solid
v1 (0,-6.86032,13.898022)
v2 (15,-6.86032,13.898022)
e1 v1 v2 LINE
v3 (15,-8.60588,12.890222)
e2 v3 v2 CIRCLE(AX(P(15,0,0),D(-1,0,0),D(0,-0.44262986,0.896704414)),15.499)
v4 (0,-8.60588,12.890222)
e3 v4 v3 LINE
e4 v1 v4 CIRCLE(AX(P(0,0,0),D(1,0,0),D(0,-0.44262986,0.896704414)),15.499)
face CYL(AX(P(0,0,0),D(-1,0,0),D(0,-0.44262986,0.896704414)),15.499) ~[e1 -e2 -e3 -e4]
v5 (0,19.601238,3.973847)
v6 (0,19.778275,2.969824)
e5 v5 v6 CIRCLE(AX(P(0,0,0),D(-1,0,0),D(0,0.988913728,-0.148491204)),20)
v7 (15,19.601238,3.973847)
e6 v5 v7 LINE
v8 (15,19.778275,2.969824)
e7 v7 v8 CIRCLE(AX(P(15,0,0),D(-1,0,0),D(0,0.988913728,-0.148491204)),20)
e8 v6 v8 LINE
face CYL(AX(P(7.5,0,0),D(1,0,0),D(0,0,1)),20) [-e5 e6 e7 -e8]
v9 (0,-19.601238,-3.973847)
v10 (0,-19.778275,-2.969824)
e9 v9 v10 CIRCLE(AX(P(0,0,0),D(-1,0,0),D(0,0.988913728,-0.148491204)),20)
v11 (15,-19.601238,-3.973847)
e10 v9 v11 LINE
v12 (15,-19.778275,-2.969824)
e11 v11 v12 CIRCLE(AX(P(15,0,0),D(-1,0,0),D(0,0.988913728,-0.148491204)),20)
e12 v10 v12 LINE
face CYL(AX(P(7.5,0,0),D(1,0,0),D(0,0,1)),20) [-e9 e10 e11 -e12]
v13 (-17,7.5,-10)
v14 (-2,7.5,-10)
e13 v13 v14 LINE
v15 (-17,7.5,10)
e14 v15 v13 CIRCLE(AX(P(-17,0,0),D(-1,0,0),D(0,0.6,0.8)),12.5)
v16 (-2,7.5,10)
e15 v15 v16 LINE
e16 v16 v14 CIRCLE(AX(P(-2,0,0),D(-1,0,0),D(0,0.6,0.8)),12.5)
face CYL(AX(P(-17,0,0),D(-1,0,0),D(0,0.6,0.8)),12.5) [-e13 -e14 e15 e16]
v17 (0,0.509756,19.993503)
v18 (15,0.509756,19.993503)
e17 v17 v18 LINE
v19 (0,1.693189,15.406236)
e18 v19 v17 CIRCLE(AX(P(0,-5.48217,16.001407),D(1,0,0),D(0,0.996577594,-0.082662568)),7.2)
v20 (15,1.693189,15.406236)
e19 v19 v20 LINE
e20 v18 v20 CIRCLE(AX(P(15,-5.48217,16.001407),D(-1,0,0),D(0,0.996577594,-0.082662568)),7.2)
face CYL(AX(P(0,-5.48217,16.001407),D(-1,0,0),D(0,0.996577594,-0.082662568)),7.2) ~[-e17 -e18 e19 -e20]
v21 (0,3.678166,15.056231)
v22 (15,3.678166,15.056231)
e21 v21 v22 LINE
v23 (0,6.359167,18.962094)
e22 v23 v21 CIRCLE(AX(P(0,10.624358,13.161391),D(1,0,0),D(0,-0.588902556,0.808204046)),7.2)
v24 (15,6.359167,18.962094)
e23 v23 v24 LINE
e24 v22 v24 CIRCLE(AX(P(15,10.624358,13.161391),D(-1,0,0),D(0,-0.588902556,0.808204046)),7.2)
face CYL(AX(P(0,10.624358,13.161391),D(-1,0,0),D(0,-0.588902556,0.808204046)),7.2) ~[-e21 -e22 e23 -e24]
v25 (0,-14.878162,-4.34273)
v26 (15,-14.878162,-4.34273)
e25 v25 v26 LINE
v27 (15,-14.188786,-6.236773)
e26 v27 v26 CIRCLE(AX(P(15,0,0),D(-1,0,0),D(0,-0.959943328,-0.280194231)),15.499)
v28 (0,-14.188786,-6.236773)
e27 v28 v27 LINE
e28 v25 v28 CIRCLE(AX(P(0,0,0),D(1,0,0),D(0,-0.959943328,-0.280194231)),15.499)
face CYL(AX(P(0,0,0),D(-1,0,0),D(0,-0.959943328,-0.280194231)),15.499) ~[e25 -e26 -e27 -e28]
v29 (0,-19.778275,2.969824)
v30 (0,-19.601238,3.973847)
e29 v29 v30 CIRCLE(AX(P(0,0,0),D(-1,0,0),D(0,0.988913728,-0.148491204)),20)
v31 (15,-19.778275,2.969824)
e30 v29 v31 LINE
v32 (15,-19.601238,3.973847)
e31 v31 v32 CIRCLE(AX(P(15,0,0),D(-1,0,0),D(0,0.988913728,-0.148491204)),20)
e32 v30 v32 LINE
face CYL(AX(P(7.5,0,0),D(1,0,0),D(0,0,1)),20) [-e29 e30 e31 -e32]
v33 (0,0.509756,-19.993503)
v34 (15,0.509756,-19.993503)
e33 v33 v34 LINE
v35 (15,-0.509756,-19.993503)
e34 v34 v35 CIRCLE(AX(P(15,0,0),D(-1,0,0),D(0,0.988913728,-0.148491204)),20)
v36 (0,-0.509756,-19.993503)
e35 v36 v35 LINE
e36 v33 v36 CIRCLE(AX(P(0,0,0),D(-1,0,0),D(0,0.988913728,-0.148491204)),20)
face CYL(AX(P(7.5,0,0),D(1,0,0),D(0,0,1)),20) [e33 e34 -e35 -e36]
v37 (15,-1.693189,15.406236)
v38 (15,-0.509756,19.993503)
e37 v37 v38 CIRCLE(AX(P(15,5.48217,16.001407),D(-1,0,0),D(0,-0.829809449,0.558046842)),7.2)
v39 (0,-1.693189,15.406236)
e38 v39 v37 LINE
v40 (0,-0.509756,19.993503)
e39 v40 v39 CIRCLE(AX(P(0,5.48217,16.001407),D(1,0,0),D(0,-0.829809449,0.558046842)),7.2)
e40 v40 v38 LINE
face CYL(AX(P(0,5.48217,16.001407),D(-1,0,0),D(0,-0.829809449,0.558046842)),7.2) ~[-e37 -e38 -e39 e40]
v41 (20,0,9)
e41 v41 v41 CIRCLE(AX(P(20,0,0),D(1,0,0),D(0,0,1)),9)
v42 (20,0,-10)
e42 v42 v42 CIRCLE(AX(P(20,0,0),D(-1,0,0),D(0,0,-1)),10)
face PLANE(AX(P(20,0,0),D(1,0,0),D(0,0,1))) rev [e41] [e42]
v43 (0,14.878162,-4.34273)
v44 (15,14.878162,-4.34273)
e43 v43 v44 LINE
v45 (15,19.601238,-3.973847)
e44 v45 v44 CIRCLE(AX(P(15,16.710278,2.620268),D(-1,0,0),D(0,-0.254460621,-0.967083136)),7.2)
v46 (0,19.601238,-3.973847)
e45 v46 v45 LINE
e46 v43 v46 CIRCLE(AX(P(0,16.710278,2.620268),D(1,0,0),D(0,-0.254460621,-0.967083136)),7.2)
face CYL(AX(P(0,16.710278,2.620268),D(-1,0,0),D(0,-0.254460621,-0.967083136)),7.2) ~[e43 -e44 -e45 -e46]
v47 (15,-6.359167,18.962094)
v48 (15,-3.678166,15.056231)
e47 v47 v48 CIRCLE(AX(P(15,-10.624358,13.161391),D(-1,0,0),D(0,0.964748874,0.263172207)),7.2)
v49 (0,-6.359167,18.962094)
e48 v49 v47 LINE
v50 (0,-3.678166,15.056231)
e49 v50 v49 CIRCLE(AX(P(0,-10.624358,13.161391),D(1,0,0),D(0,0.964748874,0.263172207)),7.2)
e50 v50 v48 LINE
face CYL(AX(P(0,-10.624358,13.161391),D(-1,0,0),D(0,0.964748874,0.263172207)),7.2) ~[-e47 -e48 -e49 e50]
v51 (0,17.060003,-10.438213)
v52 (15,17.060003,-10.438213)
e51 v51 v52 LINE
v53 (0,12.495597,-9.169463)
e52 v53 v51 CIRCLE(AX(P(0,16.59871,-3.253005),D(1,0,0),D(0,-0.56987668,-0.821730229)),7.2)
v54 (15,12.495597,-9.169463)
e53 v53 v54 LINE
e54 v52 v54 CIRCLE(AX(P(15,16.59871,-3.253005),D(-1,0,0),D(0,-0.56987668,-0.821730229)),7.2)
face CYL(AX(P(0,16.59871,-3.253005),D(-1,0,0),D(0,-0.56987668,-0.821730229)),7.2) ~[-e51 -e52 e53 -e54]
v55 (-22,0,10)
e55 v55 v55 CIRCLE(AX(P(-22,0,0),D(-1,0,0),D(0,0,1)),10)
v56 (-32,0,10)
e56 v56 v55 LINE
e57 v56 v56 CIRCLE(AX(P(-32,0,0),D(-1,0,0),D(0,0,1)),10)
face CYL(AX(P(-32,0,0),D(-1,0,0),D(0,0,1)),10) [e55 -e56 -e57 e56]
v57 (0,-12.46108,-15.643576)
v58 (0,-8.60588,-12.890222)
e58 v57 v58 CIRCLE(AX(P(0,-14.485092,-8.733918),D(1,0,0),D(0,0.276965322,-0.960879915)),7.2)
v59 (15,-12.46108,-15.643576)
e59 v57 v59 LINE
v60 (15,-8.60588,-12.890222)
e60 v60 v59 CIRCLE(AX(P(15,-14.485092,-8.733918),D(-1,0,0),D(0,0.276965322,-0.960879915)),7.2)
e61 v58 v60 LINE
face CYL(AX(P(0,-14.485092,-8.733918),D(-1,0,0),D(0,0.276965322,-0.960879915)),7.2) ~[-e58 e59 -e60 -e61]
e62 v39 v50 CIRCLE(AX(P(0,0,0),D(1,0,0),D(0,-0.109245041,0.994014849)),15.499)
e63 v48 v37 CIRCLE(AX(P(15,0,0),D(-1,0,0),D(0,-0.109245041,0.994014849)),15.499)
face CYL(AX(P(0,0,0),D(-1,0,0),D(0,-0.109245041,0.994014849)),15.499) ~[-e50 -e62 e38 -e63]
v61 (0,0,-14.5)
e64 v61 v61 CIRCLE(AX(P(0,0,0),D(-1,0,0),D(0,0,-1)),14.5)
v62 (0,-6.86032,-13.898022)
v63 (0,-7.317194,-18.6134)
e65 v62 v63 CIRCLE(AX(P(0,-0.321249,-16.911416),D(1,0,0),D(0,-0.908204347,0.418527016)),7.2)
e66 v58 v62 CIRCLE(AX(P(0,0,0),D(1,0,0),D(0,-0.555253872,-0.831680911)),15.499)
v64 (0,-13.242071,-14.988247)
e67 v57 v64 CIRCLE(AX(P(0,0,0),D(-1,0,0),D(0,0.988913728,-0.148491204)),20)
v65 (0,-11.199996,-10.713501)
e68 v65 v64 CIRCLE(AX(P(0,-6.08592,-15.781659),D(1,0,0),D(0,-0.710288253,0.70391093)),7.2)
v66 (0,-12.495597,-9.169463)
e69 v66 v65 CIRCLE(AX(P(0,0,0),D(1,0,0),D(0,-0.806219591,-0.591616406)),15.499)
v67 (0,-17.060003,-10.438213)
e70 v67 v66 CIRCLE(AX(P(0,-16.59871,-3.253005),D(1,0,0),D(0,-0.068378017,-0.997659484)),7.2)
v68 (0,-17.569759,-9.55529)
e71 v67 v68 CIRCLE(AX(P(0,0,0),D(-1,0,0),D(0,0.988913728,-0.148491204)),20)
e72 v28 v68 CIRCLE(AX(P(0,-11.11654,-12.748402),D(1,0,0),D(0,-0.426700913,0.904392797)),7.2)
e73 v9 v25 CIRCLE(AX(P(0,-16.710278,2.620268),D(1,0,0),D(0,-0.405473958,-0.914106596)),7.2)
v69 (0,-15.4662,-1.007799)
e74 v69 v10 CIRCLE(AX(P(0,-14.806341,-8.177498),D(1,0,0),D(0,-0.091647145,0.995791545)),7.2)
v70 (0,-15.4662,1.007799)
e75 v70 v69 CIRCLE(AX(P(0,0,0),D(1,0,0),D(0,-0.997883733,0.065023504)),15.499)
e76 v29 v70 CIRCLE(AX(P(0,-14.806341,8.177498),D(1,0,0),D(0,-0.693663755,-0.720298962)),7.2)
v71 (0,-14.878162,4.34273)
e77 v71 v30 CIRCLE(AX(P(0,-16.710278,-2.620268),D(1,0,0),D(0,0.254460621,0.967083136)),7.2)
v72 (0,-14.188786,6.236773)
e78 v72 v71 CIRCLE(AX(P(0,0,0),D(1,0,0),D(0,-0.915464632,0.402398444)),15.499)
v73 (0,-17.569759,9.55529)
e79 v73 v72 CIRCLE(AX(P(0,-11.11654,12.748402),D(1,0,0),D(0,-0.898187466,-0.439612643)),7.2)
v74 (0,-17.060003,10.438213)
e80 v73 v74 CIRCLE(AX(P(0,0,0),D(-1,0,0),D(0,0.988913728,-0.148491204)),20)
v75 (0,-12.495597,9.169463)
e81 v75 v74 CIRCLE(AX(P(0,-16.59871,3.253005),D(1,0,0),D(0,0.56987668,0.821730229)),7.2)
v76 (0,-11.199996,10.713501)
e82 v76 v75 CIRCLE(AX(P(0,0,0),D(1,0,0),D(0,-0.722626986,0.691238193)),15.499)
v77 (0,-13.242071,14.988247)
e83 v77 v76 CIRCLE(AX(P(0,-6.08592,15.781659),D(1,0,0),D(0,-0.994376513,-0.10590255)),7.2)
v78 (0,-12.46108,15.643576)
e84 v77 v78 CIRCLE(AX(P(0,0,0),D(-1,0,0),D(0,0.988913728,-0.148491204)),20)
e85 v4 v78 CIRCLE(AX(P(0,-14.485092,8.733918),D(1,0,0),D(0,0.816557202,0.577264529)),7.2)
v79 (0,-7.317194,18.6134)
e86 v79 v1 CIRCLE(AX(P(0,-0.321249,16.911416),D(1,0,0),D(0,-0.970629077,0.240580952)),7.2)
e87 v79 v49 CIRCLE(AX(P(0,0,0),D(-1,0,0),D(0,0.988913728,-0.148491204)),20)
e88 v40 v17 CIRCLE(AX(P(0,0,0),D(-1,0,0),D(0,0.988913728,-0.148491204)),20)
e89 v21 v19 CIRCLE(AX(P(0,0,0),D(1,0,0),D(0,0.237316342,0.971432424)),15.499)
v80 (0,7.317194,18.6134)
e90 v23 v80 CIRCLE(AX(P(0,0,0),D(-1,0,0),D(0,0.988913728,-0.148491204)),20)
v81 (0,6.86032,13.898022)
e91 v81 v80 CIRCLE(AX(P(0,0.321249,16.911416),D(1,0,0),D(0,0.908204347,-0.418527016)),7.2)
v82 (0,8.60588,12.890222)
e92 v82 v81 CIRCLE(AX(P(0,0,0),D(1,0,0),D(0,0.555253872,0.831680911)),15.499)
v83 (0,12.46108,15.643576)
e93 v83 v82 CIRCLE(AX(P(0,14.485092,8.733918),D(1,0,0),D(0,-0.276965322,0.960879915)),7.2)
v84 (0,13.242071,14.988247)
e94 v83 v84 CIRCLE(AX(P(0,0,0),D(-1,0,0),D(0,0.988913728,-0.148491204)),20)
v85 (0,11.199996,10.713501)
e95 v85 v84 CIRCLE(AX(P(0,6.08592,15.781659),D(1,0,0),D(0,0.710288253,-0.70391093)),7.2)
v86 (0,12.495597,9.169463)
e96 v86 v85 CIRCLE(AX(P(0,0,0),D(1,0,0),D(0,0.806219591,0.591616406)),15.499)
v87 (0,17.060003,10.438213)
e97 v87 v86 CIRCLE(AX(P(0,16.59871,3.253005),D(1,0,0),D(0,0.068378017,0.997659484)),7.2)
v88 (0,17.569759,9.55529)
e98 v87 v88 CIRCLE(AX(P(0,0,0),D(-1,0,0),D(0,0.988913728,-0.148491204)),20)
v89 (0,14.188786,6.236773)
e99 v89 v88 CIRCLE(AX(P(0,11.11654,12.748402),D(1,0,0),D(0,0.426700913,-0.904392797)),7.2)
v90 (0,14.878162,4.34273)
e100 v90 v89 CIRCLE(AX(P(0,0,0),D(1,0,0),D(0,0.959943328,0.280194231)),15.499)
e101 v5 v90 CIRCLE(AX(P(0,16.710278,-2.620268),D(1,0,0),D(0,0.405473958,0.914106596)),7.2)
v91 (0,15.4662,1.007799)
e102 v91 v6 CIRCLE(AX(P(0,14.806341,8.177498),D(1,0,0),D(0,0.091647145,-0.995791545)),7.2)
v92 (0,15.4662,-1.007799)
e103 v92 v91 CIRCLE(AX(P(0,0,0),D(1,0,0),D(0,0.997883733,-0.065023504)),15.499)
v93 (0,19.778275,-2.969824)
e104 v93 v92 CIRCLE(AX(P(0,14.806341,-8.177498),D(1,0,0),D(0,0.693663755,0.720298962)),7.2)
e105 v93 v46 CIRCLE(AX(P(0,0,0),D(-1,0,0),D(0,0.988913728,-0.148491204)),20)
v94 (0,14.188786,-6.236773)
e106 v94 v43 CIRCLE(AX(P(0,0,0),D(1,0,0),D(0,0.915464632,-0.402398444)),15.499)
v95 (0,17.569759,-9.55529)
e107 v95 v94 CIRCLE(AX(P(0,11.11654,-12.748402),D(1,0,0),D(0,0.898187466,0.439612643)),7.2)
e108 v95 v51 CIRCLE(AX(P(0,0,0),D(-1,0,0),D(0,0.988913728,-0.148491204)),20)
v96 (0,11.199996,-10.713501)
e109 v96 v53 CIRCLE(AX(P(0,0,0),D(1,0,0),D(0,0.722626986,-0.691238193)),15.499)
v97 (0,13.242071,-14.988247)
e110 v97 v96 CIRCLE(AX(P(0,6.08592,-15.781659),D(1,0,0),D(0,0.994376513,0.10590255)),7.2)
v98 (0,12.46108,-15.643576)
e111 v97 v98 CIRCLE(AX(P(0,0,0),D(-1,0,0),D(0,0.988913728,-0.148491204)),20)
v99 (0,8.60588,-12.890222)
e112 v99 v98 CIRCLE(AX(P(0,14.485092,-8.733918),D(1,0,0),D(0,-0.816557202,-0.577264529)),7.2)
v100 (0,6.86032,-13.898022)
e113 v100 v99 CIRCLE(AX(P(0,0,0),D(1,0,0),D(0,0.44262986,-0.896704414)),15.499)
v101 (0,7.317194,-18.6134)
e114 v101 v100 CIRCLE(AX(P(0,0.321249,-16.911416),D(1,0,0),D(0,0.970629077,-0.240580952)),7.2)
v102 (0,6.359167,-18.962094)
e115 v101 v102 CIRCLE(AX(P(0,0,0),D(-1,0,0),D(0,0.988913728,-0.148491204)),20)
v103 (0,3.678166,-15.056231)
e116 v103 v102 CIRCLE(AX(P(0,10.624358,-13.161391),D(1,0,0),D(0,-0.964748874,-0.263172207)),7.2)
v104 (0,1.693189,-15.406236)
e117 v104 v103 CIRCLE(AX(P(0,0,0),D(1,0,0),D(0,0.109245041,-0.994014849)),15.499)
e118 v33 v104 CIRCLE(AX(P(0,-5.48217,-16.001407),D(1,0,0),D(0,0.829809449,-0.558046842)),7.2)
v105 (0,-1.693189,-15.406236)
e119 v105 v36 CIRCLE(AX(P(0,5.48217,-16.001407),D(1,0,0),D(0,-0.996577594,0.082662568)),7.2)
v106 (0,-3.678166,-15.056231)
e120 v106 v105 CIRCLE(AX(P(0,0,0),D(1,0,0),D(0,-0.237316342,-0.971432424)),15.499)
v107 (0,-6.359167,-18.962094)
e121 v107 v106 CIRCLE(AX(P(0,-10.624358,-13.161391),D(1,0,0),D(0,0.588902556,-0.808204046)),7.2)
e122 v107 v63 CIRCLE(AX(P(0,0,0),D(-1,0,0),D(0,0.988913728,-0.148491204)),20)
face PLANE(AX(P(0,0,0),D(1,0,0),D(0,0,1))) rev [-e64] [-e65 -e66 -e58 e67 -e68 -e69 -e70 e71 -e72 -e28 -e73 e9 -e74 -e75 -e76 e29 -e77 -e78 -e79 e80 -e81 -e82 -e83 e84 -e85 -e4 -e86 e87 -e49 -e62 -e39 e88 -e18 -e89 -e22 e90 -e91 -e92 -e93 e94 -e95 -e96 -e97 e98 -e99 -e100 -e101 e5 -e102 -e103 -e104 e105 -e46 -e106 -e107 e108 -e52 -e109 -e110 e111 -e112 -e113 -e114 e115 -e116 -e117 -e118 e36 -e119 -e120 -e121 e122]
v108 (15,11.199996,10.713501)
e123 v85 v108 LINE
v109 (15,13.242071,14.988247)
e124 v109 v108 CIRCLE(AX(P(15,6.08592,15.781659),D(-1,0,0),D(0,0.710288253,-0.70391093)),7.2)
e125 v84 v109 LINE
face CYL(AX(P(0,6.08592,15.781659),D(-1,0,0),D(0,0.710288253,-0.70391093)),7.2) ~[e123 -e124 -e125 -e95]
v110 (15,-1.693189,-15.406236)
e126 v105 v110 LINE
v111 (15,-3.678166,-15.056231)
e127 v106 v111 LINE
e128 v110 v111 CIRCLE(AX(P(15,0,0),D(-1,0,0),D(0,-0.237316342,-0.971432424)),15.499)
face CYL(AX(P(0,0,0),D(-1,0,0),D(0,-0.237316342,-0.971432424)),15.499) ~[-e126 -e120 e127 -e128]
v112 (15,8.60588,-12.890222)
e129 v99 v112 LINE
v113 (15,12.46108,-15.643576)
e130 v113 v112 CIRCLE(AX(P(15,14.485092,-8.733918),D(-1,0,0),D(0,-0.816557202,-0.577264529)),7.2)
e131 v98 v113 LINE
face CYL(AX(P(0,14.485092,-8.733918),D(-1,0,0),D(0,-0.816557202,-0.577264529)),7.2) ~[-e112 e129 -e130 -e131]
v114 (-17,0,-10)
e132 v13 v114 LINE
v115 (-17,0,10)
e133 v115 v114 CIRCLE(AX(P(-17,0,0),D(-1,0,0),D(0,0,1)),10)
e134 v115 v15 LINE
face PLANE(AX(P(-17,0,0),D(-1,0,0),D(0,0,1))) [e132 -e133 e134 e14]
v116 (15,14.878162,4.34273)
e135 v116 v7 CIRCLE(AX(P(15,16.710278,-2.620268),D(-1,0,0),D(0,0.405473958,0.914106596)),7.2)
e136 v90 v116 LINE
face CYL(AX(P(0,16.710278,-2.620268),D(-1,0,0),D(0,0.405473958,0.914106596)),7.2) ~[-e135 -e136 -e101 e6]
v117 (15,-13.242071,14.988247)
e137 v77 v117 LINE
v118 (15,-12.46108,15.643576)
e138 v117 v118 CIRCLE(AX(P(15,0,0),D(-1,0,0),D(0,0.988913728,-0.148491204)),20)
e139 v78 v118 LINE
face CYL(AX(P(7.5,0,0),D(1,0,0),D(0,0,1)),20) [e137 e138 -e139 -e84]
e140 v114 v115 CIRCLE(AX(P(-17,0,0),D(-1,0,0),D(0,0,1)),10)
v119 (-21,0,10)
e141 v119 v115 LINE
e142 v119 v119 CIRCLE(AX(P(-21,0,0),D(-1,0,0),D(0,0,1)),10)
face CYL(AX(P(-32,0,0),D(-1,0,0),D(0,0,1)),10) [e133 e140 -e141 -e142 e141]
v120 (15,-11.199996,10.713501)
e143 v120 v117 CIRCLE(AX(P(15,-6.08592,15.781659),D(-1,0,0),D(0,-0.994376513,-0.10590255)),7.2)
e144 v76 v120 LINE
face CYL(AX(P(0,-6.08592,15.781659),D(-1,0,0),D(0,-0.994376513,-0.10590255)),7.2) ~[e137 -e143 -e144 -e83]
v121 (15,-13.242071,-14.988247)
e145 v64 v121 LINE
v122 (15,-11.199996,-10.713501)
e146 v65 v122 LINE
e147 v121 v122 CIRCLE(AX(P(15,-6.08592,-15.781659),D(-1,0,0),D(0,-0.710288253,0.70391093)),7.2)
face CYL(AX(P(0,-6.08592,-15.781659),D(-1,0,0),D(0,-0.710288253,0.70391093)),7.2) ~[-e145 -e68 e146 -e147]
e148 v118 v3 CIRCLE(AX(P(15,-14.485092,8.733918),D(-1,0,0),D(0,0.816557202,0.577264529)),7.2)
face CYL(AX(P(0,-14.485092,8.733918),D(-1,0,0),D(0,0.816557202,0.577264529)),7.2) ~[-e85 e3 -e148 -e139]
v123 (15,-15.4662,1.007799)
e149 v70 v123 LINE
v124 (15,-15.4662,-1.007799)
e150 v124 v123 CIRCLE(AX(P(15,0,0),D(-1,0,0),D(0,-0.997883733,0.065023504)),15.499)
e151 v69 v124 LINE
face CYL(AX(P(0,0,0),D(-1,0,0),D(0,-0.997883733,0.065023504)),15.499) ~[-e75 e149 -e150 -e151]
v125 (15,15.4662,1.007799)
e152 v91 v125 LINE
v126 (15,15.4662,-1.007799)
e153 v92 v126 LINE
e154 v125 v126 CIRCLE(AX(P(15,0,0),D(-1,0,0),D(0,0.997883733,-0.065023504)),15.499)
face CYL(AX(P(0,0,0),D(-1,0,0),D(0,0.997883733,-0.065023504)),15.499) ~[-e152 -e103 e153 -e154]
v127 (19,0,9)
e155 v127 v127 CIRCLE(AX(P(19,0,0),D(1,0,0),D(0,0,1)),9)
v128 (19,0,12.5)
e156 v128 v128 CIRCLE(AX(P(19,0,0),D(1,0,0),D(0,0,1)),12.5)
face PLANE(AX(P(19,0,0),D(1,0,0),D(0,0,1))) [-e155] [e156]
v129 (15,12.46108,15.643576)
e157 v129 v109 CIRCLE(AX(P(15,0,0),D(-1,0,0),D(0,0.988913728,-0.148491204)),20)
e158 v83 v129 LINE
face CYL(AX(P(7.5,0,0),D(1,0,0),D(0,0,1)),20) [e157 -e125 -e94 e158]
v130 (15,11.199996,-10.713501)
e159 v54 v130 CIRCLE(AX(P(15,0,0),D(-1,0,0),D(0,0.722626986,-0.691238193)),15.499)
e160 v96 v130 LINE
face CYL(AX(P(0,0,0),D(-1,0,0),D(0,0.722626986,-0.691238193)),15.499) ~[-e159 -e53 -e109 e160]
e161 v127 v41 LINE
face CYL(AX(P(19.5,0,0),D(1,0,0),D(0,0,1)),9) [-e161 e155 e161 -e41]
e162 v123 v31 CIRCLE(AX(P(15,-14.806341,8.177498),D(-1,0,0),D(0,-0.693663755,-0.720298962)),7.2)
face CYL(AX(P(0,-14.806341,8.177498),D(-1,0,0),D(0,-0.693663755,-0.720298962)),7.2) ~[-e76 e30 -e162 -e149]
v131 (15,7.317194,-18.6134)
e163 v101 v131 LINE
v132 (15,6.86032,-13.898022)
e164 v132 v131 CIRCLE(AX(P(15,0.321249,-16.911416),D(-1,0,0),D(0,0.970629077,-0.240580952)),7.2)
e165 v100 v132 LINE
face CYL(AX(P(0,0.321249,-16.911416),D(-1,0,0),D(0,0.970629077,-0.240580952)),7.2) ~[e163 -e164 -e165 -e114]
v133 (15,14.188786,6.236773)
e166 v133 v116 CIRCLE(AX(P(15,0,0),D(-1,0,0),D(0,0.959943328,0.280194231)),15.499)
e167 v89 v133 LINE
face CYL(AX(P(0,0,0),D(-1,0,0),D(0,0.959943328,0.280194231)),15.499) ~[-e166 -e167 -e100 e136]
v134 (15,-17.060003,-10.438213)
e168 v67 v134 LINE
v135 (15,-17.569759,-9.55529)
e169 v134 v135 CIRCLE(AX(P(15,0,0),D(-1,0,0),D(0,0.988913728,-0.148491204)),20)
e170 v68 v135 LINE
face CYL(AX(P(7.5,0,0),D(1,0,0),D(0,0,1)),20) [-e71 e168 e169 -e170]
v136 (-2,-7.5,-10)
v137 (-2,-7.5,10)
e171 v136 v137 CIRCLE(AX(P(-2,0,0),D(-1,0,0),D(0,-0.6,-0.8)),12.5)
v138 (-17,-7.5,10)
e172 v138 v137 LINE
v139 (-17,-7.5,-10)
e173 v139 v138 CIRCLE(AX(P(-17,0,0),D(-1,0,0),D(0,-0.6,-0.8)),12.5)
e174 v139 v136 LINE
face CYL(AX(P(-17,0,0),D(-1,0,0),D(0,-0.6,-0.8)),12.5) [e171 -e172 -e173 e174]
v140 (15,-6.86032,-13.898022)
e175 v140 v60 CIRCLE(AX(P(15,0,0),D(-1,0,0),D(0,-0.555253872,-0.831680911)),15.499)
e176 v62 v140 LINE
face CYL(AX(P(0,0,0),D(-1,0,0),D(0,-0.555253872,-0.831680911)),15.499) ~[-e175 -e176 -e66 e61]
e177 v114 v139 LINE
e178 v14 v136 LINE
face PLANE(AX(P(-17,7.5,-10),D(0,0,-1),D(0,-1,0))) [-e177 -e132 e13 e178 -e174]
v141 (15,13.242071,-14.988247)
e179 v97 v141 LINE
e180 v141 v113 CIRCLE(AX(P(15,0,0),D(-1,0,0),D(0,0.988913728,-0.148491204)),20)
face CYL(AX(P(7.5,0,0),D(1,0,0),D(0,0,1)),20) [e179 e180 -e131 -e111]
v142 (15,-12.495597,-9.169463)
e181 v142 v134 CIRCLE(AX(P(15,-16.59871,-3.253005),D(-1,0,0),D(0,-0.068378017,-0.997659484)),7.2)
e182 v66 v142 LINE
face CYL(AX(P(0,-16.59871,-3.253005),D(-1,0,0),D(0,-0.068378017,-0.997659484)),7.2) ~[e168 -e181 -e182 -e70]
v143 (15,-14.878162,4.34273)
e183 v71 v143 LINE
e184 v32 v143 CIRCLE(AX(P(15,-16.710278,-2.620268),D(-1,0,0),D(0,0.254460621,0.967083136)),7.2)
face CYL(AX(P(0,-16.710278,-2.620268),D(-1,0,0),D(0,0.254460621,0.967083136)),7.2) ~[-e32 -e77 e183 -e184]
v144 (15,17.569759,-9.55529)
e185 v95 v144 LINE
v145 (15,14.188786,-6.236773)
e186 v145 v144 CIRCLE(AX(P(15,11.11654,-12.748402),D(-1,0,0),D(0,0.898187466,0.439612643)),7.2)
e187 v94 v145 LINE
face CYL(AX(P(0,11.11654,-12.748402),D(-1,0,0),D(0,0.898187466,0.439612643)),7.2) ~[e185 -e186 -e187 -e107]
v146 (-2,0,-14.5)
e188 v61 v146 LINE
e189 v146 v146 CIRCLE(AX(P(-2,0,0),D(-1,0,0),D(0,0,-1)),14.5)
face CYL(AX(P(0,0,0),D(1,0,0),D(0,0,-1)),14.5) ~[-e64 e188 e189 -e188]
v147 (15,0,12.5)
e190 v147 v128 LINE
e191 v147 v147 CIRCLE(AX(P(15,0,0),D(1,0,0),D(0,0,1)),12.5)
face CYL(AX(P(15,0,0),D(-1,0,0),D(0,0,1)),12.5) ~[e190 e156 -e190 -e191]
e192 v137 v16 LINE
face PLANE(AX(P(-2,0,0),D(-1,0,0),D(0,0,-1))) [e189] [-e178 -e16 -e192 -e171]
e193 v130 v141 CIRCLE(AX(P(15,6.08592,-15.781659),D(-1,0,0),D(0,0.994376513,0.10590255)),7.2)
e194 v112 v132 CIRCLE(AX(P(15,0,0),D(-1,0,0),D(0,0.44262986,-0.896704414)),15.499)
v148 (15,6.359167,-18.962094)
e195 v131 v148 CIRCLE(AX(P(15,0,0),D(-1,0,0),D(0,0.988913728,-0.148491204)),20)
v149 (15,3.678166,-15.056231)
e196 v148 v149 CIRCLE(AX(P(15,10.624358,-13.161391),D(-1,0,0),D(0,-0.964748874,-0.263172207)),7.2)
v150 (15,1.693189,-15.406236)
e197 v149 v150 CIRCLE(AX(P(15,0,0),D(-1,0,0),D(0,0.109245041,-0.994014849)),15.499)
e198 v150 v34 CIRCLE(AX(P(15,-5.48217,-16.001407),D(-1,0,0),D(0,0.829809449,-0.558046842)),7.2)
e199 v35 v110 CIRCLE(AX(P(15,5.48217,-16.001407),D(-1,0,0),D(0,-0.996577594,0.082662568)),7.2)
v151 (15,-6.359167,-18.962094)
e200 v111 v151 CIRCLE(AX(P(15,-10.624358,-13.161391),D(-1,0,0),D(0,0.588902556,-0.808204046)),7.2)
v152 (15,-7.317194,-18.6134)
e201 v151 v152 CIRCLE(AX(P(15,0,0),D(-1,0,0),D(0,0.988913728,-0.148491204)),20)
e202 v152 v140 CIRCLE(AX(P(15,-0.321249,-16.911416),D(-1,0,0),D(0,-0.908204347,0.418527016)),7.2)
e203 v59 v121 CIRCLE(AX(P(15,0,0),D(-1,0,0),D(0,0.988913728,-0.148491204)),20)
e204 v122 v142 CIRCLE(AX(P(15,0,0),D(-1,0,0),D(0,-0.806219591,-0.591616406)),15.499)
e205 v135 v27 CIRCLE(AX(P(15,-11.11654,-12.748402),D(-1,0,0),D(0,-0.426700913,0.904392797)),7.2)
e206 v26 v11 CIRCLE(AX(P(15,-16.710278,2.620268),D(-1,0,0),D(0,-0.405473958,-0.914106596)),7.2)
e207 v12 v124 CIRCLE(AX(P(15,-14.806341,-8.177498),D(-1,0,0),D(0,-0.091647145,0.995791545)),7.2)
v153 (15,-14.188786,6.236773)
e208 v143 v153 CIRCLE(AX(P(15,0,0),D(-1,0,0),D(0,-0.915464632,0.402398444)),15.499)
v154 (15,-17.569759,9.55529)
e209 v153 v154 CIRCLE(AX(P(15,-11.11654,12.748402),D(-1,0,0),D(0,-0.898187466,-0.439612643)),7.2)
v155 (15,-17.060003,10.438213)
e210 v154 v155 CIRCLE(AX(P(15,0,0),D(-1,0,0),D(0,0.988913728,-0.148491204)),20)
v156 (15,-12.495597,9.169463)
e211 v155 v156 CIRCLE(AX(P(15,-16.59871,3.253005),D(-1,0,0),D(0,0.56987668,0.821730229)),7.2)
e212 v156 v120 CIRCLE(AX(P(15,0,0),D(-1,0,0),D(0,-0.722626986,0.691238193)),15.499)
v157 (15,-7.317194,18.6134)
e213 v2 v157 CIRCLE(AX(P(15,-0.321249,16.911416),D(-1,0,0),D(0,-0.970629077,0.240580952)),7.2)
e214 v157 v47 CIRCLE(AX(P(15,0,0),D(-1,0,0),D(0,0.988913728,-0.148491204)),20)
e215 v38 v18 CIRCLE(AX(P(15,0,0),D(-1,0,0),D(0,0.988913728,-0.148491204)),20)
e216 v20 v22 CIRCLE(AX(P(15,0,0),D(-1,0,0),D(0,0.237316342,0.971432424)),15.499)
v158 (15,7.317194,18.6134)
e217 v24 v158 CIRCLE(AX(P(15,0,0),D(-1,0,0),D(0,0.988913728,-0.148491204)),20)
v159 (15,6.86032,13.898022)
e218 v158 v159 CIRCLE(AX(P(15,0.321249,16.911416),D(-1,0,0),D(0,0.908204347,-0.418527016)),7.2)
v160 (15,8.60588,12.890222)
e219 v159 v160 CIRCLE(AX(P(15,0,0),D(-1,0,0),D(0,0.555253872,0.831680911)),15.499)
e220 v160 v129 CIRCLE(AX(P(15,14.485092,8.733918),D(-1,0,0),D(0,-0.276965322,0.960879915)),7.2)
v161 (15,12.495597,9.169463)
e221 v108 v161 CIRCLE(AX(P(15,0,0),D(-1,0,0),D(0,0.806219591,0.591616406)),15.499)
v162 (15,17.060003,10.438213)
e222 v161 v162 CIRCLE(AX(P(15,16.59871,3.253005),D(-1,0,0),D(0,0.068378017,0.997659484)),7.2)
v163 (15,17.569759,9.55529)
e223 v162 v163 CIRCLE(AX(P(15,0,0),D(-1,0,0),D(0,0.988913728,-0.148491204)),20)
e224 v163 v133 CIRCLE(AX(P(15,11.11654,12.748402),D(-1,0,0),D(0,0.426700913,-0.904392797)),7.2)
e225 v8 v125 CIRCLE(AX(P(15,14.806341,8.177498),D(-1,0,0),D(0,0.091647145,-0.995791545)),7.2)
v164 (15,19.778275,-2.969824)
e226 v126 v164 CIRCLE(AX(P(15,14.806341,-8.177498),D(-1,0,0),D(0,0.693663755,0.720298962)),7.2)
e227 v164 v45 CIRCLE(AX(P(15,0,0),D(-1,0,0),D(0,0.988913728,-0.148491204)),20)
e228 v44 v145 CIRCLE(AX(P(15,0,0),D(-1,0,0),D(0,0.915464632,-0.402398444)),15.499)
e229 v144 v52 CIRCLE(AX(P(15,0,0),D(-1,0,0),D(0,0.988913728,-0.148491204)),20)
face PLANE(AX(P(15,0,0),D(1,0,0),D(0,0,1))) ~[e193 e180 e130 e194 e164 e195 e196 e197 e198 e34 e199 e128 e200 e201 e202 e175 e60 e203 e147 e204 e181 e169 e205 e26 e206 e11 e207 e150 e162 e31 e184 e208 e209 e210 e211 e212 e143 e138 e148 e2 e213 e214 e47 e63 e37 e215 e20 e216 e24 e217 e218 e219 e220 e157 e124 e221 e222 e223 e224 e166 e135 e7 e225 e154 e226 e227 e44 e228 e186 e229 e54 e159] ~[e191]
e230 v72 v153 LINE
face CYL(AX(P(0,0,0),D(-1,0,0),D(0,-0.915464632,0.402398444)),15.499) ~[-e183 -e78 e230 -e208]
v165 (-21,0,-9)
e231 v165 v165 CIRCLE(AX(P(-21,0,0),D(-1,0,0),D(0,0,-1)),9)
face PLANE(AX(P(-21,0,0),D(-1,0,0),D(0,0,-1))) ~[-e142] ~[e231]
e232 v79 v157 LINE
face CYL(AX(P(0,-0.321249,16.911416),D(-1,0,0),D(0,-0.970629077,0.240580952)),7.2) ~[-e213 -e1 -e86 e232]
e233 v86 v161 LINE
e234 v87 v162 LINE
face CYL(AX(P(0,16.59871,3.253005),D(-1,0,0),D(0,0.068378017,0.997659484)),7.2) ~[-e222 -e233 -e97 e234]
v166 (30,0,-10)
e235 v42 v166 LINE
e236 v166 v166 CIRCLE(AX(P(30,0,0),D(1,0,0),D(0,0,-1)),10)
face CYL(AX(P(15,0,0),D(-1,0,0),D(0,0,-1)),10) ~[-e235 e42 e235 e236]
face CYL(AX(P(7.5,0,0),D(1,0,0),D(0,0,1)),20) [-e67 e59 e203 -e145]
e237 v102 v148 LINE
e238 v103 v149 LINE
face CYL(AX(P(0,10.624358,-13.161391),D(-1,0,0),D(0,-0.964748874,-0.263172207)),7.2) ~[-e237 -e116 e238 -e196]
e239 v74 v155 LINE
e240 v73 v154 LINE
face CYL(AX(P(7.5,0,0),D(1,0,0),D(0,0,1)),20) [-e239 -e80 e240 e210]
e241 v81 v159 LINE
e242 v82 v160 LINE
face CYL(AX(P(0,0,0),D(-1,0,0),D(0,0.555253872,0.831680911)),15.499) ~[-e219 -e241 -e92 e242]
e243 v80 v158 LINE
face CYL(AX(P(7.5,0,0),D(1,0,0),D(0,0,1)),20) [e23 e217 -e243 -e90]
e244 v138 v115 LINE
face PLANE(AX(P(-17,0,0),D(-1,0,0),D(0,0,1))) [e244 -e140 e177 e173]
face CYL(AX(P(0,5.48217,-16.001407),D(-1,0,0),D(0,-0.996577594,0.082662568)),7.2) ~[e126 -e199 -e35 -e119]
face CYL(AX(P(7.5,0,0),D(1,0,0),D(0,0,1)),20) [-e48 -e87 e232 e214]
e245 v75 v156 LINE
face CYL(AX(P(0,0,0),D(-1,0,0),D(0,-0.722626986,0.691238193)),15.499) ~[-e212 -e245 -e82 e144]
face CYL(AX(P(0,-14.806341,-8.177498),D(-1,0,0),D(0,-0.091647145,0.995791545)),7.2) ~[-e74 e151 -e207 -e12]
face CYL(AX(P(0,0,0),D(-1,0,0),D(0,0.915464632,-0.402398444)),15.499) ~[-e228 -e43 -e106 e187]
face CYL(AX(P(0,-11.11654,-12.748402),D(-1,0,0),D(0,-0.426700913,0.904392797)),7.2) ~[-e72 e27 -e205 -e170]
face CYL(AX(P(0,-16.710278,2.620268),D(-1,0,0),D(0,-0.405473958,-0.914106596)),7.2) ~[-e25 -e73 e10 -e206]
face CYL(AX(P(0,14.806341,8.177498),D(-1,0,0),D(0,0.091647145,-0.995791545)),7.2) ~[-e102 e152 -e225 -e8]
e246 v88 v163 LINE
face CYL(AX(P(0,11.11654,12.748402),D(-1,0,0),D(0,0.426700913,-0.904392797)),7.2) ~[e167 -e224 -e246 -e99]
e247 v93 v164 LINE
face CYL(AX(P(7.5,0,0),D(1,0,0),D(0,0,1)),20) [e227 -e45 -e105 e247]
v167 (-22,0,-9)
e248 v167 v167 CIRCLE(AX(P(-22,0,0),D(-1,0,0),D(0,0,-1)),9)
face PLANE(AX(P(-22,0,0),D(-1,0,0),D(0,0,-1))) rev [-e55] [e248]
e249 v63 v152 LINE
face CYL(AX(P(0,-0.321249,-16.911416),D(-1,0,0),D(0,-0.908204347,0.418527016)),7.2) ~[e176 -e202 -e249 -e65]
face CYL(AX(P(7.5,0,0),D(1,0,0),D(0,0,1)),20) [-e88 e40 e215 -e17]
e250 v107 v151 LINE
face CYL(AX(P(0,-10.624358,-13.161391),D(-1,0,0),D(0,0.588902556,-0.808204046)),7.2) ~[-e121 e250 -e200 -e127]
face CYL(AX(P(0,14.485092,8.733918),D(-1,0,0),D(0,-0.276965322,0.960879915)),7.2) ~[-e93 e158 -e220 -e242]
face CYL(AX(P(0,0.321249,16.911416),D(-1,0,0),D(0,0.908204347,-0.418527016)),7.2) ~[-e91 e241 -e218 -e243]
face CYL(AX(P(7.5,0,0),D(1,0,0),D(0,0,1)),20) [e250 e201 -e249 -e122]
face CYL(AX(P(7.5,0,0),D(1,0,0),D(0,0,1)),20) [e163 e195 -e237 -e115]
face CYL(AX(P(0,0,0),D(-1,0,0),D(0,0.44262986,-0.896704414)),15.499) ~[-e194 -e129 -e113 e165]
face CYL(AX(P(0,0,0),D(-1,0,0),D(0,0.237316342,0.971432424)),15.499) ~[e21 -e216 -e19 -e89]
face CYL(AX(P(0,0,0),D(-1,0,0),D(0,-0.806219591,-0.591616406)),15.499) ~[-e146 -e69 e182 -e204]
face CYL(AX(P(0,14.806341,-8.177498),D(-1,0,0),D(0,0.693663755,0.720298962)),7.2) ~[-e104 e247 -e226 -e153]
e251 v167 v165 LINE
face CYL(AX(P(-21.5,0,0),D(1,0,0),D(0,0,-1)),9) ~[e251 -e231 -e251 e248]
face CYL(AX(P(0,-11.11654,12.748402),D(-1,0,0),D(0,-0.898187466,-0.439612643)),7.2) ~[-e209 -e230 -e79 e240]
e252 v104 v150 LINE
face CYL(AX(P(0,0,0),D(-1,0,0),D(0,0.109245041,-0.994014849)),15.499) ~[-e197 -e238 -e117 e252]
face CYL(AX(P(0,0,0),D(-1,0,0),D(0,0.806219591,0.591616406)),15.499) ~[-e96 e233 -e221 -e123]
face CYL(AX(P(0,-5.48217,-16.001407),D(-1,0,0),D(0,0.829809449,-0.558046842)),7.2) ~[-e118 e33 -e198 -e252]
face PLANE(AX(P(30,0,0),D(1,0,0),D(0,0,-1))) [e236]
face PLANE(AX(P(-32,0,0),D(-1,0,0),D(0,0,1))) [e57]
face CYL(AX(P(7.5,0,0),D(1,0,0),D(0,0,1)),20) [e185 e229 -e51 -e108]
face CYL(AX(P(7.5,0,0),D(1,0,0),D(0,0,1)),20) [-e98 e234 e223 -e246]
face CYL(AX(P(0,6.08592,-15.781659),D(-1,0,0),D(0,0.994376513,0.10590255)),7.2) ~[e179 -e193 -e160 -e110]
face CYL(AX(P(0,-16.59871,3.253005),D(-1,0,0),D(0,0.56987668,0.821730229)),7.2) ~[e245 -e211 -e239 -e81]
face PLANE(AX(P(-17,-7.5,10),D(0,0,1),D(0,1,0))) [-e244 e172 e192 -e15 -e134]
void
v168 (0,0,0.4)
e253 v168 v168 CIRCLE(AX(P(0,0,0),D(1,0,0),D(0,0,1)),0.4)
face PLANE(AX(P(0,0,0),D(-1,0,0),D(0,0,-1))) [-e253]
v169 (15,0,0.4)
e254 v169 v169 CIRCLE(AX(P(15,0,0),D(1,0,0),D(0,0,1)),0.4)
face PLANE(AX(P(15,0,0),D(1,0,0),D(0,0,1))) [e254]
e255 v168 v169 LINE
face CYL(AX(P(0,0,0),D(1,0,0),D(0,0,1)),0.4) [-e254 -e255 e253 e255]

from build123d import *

# Parameters (mm, degrees)
BASPROSKE_W         = 15
BASPROSKE_H         = 20
TOOTHCUT_DEPTH      = 33.015621187
TEETHCUTS_COUNT     = 18
TEETHCUTS_ANGLE     = 340
BORSKE_R            = 0.4
BORE_DEPTH          = 50.0000508
SKETCH1_R           = 12.5
BOSS_EXTRUDE1_DEPTH = 4
SKETCH1_3_R         = 10
BOSS_EXTRUDE2_DEPTH = 15
SKETCH2_W           = 1
SKETCH2_H           = 1
SKETCH3_R           = 14.5
BOSS_EXTRUDE3_DEPTH = 2
BOSS_EXTRUDE4_START = 17
SKETCH3_3_R         = 12.5
BOSS_EXTRUDE4_DEPTH = 17
BOSS_EXTRUDE5_START = 32
SKETCH3_4_R         = 10
BOSS_EXTRUDE5_DEPTH = 32
SKETCH4_W           = 1
SKETCH4_H           = 1
SKETCH5_OUTSIDE_W   = 58.744
SKETCH5_OUTSIDE_H   = 58.3
CUT_EXTRUDE1_DEPTH  = 15


with BuildPart() as part:
    # BasProSke → Base-Revolve (revolve)
    with BuildSketch(Plane(origin=(0, 0, 0), x_dir=(1, 0, 0), z_dir=(0, 1, 0)), mode=Mode.PRIVATE) as base_revolve_sk:
        with Locations((7.5, 10)):
            Rectangle(BASPROSKE_W, BASPROSKE_H)
    revolve(base_revolve_sk.sketch.rotate(Axis((-10, 0, 0), (1, 0, 0)), 180), axis=Axis((-10, 0, 0), (1, 0, 0)))

    # TooCutSke → ToothCut (cut, through all)
    with BuildSketch(Plane(origin=(0, 0, 0), x_dir=(0, 0, -1), z_dir=(1, 0, 0))):
        with BuildLine():
            ThreePointArc((1.007799284, 15.466199973), (0, 15.499), (-1.007799284, 15.466199973))
            ThreePointArc((-1.007799284, 15.466199973), (-1.630454606, 17.802374148), (-2.991345877, 19.800719558))
            ThreePointArc((-2.991345877, 19.800719558), (0, 20.0254), (2.991345877, 19.800719558))
            ThreePointArc((2.991345877, 19.800719558), (1.630454606, 17.802374148), (1.007799284, 15.466199973))
        make_face()
    toothcut = extrude(amount=TOOTHCUT_DEPTH, mode=Mode.SUBTRACT)

    # TeethCuts: ToothCut ×18 about axis
    teethcuts_axis = Axis((-10, 0, 0), (1, 0, 0))
    for i in range(1, TEETHCUTS_COUNT):
        add(toothcut.rotate(teethcuts_axis, i * TEETHCUTS_ANGLE / (TEETHCUTS_COUNT - 1)), mode=Mode.SUBTRACT)

    # BorSke → Bore (cut, symmetric)
    with BuildSketch(Plane(origin=(0, 0, 0), x_dir=(0, 0, -1), z_dir=(1, 0, 0))):
        with Locations(Location((0, 0, 0), (0, 0, 180))):
            Circle(BORSKE_R)
    extrude(amount=BORE_DEPTH, both=True, mode=Mode.SUBTRACT)

    # Sketch1 → Boss-Extrude1 (add)
    with BuildSketch(Plane(origin=(15, 0, 0), x_dir=(0, 0, -1), z_dir=(1, 0, 0))):
        with Locations(Location((0, 0, 0), (0, 0, 180))):
            Circle(SKETCH1_R)
    extrude(amount=BOSS_EXTRUDE1_DEPTH)

    # Sketch1<3> → Boss-Extrude2 (add)
    with BuildSketch(Plane(origin=(15, 0, 0), x_dir=(0, 0, -1), z_dir=(1, 0, 0))):
        Circle(SKETCH1_3_R)
    extrude(amount=BOSS_EXTRUDE2_DEPTH)

    # Sketch2 → Cut-Revolve1 (revolve, cut)
    with BuildSketch(Plane.XY, mode=Mode.PRIVATE) as cut_revolve1_sk:
        with Locations((19.5, 9.5)):
            Rectangle(SKETCH2_W, SKETCH2_H)
    revolve(cut_revolve1_sk.sketch.rotate(Axis((0, 0, 0), (1, 0, 0)), 90), axis=Axis((0, 0, 0), (1, 0, 0)), mode=Mode.SUBTRACT)

    # Sketch3 → Boss-Extrude3 (add)
    with BuildSketch(Plane.ZY):
        with Locations(Location((0, 0, 0), (0, 0, 180))):
            Circle(SKETCH3_R)
    extrude(amount=BOSS_EXTRUDE3_DEPTH)

    # Sketch3<3> → Boss-Extrude4 (add)
    with BuildSketch(Plane.ZY.offset(BOSS_EXTRUDE4_START)):
        Circle(SKETCH3_3_R)
    extrude(amount=-BOSS_EXTRUDE4_DEPTH)

    # Sketch3<4> → Boss-Extrude5 (add)
    with BuildSketch(Plane.ZY.offset(BOSS_EXTRUDE5_START)):
        Circle(SKETCH3_4_R)
    extrude(amount=-BOSS_EXTRUDE5_DEPTH)

    # Sketch4 → Cut-Revolve2 (revolve, cut)
    with BuildSketch(Plane.XY, mode=Mode.PRIVATE) as cut_revolve2_sk:
        with Locations((-21.5, 9.5)):
            Rectangle(SKETCH4_W, SKETCH4_H)
    revolve(cut_revolve2_sk.sketch.rotate(Axis((0, 0, 0), (-1, 0, 0)), 90), axis=Axis((0, 0, 0), (-1, 0, 0)), mode=Mode.SUBTRACT)

    # Sketch5 outside → Cut-Extrude1 (cut)
    with BuildSketch(Plane.ZY.offset(17)):
        Rectangle(SKETCH5_OUTSIDE_W, SKETCH5_OUTSIDE_H)
        with BuildLine():
            Line((-10, 7.5), (-10, -7.5))
            ThreePointArc((-10, -7.5), (0, -12.5), (10, -7.5))
            Line((10, -7.5), (10, 7.5))
            ThreePointArc((10, 7.5), (0, 12.5), (-10, 7.5))
        make_face(mode=Mode.SUBTRACT)
    extrude(amount=-CUT_EXTRUDE1_DEPTH, mode=Mode.SUBTRACT)


solid = part.part
